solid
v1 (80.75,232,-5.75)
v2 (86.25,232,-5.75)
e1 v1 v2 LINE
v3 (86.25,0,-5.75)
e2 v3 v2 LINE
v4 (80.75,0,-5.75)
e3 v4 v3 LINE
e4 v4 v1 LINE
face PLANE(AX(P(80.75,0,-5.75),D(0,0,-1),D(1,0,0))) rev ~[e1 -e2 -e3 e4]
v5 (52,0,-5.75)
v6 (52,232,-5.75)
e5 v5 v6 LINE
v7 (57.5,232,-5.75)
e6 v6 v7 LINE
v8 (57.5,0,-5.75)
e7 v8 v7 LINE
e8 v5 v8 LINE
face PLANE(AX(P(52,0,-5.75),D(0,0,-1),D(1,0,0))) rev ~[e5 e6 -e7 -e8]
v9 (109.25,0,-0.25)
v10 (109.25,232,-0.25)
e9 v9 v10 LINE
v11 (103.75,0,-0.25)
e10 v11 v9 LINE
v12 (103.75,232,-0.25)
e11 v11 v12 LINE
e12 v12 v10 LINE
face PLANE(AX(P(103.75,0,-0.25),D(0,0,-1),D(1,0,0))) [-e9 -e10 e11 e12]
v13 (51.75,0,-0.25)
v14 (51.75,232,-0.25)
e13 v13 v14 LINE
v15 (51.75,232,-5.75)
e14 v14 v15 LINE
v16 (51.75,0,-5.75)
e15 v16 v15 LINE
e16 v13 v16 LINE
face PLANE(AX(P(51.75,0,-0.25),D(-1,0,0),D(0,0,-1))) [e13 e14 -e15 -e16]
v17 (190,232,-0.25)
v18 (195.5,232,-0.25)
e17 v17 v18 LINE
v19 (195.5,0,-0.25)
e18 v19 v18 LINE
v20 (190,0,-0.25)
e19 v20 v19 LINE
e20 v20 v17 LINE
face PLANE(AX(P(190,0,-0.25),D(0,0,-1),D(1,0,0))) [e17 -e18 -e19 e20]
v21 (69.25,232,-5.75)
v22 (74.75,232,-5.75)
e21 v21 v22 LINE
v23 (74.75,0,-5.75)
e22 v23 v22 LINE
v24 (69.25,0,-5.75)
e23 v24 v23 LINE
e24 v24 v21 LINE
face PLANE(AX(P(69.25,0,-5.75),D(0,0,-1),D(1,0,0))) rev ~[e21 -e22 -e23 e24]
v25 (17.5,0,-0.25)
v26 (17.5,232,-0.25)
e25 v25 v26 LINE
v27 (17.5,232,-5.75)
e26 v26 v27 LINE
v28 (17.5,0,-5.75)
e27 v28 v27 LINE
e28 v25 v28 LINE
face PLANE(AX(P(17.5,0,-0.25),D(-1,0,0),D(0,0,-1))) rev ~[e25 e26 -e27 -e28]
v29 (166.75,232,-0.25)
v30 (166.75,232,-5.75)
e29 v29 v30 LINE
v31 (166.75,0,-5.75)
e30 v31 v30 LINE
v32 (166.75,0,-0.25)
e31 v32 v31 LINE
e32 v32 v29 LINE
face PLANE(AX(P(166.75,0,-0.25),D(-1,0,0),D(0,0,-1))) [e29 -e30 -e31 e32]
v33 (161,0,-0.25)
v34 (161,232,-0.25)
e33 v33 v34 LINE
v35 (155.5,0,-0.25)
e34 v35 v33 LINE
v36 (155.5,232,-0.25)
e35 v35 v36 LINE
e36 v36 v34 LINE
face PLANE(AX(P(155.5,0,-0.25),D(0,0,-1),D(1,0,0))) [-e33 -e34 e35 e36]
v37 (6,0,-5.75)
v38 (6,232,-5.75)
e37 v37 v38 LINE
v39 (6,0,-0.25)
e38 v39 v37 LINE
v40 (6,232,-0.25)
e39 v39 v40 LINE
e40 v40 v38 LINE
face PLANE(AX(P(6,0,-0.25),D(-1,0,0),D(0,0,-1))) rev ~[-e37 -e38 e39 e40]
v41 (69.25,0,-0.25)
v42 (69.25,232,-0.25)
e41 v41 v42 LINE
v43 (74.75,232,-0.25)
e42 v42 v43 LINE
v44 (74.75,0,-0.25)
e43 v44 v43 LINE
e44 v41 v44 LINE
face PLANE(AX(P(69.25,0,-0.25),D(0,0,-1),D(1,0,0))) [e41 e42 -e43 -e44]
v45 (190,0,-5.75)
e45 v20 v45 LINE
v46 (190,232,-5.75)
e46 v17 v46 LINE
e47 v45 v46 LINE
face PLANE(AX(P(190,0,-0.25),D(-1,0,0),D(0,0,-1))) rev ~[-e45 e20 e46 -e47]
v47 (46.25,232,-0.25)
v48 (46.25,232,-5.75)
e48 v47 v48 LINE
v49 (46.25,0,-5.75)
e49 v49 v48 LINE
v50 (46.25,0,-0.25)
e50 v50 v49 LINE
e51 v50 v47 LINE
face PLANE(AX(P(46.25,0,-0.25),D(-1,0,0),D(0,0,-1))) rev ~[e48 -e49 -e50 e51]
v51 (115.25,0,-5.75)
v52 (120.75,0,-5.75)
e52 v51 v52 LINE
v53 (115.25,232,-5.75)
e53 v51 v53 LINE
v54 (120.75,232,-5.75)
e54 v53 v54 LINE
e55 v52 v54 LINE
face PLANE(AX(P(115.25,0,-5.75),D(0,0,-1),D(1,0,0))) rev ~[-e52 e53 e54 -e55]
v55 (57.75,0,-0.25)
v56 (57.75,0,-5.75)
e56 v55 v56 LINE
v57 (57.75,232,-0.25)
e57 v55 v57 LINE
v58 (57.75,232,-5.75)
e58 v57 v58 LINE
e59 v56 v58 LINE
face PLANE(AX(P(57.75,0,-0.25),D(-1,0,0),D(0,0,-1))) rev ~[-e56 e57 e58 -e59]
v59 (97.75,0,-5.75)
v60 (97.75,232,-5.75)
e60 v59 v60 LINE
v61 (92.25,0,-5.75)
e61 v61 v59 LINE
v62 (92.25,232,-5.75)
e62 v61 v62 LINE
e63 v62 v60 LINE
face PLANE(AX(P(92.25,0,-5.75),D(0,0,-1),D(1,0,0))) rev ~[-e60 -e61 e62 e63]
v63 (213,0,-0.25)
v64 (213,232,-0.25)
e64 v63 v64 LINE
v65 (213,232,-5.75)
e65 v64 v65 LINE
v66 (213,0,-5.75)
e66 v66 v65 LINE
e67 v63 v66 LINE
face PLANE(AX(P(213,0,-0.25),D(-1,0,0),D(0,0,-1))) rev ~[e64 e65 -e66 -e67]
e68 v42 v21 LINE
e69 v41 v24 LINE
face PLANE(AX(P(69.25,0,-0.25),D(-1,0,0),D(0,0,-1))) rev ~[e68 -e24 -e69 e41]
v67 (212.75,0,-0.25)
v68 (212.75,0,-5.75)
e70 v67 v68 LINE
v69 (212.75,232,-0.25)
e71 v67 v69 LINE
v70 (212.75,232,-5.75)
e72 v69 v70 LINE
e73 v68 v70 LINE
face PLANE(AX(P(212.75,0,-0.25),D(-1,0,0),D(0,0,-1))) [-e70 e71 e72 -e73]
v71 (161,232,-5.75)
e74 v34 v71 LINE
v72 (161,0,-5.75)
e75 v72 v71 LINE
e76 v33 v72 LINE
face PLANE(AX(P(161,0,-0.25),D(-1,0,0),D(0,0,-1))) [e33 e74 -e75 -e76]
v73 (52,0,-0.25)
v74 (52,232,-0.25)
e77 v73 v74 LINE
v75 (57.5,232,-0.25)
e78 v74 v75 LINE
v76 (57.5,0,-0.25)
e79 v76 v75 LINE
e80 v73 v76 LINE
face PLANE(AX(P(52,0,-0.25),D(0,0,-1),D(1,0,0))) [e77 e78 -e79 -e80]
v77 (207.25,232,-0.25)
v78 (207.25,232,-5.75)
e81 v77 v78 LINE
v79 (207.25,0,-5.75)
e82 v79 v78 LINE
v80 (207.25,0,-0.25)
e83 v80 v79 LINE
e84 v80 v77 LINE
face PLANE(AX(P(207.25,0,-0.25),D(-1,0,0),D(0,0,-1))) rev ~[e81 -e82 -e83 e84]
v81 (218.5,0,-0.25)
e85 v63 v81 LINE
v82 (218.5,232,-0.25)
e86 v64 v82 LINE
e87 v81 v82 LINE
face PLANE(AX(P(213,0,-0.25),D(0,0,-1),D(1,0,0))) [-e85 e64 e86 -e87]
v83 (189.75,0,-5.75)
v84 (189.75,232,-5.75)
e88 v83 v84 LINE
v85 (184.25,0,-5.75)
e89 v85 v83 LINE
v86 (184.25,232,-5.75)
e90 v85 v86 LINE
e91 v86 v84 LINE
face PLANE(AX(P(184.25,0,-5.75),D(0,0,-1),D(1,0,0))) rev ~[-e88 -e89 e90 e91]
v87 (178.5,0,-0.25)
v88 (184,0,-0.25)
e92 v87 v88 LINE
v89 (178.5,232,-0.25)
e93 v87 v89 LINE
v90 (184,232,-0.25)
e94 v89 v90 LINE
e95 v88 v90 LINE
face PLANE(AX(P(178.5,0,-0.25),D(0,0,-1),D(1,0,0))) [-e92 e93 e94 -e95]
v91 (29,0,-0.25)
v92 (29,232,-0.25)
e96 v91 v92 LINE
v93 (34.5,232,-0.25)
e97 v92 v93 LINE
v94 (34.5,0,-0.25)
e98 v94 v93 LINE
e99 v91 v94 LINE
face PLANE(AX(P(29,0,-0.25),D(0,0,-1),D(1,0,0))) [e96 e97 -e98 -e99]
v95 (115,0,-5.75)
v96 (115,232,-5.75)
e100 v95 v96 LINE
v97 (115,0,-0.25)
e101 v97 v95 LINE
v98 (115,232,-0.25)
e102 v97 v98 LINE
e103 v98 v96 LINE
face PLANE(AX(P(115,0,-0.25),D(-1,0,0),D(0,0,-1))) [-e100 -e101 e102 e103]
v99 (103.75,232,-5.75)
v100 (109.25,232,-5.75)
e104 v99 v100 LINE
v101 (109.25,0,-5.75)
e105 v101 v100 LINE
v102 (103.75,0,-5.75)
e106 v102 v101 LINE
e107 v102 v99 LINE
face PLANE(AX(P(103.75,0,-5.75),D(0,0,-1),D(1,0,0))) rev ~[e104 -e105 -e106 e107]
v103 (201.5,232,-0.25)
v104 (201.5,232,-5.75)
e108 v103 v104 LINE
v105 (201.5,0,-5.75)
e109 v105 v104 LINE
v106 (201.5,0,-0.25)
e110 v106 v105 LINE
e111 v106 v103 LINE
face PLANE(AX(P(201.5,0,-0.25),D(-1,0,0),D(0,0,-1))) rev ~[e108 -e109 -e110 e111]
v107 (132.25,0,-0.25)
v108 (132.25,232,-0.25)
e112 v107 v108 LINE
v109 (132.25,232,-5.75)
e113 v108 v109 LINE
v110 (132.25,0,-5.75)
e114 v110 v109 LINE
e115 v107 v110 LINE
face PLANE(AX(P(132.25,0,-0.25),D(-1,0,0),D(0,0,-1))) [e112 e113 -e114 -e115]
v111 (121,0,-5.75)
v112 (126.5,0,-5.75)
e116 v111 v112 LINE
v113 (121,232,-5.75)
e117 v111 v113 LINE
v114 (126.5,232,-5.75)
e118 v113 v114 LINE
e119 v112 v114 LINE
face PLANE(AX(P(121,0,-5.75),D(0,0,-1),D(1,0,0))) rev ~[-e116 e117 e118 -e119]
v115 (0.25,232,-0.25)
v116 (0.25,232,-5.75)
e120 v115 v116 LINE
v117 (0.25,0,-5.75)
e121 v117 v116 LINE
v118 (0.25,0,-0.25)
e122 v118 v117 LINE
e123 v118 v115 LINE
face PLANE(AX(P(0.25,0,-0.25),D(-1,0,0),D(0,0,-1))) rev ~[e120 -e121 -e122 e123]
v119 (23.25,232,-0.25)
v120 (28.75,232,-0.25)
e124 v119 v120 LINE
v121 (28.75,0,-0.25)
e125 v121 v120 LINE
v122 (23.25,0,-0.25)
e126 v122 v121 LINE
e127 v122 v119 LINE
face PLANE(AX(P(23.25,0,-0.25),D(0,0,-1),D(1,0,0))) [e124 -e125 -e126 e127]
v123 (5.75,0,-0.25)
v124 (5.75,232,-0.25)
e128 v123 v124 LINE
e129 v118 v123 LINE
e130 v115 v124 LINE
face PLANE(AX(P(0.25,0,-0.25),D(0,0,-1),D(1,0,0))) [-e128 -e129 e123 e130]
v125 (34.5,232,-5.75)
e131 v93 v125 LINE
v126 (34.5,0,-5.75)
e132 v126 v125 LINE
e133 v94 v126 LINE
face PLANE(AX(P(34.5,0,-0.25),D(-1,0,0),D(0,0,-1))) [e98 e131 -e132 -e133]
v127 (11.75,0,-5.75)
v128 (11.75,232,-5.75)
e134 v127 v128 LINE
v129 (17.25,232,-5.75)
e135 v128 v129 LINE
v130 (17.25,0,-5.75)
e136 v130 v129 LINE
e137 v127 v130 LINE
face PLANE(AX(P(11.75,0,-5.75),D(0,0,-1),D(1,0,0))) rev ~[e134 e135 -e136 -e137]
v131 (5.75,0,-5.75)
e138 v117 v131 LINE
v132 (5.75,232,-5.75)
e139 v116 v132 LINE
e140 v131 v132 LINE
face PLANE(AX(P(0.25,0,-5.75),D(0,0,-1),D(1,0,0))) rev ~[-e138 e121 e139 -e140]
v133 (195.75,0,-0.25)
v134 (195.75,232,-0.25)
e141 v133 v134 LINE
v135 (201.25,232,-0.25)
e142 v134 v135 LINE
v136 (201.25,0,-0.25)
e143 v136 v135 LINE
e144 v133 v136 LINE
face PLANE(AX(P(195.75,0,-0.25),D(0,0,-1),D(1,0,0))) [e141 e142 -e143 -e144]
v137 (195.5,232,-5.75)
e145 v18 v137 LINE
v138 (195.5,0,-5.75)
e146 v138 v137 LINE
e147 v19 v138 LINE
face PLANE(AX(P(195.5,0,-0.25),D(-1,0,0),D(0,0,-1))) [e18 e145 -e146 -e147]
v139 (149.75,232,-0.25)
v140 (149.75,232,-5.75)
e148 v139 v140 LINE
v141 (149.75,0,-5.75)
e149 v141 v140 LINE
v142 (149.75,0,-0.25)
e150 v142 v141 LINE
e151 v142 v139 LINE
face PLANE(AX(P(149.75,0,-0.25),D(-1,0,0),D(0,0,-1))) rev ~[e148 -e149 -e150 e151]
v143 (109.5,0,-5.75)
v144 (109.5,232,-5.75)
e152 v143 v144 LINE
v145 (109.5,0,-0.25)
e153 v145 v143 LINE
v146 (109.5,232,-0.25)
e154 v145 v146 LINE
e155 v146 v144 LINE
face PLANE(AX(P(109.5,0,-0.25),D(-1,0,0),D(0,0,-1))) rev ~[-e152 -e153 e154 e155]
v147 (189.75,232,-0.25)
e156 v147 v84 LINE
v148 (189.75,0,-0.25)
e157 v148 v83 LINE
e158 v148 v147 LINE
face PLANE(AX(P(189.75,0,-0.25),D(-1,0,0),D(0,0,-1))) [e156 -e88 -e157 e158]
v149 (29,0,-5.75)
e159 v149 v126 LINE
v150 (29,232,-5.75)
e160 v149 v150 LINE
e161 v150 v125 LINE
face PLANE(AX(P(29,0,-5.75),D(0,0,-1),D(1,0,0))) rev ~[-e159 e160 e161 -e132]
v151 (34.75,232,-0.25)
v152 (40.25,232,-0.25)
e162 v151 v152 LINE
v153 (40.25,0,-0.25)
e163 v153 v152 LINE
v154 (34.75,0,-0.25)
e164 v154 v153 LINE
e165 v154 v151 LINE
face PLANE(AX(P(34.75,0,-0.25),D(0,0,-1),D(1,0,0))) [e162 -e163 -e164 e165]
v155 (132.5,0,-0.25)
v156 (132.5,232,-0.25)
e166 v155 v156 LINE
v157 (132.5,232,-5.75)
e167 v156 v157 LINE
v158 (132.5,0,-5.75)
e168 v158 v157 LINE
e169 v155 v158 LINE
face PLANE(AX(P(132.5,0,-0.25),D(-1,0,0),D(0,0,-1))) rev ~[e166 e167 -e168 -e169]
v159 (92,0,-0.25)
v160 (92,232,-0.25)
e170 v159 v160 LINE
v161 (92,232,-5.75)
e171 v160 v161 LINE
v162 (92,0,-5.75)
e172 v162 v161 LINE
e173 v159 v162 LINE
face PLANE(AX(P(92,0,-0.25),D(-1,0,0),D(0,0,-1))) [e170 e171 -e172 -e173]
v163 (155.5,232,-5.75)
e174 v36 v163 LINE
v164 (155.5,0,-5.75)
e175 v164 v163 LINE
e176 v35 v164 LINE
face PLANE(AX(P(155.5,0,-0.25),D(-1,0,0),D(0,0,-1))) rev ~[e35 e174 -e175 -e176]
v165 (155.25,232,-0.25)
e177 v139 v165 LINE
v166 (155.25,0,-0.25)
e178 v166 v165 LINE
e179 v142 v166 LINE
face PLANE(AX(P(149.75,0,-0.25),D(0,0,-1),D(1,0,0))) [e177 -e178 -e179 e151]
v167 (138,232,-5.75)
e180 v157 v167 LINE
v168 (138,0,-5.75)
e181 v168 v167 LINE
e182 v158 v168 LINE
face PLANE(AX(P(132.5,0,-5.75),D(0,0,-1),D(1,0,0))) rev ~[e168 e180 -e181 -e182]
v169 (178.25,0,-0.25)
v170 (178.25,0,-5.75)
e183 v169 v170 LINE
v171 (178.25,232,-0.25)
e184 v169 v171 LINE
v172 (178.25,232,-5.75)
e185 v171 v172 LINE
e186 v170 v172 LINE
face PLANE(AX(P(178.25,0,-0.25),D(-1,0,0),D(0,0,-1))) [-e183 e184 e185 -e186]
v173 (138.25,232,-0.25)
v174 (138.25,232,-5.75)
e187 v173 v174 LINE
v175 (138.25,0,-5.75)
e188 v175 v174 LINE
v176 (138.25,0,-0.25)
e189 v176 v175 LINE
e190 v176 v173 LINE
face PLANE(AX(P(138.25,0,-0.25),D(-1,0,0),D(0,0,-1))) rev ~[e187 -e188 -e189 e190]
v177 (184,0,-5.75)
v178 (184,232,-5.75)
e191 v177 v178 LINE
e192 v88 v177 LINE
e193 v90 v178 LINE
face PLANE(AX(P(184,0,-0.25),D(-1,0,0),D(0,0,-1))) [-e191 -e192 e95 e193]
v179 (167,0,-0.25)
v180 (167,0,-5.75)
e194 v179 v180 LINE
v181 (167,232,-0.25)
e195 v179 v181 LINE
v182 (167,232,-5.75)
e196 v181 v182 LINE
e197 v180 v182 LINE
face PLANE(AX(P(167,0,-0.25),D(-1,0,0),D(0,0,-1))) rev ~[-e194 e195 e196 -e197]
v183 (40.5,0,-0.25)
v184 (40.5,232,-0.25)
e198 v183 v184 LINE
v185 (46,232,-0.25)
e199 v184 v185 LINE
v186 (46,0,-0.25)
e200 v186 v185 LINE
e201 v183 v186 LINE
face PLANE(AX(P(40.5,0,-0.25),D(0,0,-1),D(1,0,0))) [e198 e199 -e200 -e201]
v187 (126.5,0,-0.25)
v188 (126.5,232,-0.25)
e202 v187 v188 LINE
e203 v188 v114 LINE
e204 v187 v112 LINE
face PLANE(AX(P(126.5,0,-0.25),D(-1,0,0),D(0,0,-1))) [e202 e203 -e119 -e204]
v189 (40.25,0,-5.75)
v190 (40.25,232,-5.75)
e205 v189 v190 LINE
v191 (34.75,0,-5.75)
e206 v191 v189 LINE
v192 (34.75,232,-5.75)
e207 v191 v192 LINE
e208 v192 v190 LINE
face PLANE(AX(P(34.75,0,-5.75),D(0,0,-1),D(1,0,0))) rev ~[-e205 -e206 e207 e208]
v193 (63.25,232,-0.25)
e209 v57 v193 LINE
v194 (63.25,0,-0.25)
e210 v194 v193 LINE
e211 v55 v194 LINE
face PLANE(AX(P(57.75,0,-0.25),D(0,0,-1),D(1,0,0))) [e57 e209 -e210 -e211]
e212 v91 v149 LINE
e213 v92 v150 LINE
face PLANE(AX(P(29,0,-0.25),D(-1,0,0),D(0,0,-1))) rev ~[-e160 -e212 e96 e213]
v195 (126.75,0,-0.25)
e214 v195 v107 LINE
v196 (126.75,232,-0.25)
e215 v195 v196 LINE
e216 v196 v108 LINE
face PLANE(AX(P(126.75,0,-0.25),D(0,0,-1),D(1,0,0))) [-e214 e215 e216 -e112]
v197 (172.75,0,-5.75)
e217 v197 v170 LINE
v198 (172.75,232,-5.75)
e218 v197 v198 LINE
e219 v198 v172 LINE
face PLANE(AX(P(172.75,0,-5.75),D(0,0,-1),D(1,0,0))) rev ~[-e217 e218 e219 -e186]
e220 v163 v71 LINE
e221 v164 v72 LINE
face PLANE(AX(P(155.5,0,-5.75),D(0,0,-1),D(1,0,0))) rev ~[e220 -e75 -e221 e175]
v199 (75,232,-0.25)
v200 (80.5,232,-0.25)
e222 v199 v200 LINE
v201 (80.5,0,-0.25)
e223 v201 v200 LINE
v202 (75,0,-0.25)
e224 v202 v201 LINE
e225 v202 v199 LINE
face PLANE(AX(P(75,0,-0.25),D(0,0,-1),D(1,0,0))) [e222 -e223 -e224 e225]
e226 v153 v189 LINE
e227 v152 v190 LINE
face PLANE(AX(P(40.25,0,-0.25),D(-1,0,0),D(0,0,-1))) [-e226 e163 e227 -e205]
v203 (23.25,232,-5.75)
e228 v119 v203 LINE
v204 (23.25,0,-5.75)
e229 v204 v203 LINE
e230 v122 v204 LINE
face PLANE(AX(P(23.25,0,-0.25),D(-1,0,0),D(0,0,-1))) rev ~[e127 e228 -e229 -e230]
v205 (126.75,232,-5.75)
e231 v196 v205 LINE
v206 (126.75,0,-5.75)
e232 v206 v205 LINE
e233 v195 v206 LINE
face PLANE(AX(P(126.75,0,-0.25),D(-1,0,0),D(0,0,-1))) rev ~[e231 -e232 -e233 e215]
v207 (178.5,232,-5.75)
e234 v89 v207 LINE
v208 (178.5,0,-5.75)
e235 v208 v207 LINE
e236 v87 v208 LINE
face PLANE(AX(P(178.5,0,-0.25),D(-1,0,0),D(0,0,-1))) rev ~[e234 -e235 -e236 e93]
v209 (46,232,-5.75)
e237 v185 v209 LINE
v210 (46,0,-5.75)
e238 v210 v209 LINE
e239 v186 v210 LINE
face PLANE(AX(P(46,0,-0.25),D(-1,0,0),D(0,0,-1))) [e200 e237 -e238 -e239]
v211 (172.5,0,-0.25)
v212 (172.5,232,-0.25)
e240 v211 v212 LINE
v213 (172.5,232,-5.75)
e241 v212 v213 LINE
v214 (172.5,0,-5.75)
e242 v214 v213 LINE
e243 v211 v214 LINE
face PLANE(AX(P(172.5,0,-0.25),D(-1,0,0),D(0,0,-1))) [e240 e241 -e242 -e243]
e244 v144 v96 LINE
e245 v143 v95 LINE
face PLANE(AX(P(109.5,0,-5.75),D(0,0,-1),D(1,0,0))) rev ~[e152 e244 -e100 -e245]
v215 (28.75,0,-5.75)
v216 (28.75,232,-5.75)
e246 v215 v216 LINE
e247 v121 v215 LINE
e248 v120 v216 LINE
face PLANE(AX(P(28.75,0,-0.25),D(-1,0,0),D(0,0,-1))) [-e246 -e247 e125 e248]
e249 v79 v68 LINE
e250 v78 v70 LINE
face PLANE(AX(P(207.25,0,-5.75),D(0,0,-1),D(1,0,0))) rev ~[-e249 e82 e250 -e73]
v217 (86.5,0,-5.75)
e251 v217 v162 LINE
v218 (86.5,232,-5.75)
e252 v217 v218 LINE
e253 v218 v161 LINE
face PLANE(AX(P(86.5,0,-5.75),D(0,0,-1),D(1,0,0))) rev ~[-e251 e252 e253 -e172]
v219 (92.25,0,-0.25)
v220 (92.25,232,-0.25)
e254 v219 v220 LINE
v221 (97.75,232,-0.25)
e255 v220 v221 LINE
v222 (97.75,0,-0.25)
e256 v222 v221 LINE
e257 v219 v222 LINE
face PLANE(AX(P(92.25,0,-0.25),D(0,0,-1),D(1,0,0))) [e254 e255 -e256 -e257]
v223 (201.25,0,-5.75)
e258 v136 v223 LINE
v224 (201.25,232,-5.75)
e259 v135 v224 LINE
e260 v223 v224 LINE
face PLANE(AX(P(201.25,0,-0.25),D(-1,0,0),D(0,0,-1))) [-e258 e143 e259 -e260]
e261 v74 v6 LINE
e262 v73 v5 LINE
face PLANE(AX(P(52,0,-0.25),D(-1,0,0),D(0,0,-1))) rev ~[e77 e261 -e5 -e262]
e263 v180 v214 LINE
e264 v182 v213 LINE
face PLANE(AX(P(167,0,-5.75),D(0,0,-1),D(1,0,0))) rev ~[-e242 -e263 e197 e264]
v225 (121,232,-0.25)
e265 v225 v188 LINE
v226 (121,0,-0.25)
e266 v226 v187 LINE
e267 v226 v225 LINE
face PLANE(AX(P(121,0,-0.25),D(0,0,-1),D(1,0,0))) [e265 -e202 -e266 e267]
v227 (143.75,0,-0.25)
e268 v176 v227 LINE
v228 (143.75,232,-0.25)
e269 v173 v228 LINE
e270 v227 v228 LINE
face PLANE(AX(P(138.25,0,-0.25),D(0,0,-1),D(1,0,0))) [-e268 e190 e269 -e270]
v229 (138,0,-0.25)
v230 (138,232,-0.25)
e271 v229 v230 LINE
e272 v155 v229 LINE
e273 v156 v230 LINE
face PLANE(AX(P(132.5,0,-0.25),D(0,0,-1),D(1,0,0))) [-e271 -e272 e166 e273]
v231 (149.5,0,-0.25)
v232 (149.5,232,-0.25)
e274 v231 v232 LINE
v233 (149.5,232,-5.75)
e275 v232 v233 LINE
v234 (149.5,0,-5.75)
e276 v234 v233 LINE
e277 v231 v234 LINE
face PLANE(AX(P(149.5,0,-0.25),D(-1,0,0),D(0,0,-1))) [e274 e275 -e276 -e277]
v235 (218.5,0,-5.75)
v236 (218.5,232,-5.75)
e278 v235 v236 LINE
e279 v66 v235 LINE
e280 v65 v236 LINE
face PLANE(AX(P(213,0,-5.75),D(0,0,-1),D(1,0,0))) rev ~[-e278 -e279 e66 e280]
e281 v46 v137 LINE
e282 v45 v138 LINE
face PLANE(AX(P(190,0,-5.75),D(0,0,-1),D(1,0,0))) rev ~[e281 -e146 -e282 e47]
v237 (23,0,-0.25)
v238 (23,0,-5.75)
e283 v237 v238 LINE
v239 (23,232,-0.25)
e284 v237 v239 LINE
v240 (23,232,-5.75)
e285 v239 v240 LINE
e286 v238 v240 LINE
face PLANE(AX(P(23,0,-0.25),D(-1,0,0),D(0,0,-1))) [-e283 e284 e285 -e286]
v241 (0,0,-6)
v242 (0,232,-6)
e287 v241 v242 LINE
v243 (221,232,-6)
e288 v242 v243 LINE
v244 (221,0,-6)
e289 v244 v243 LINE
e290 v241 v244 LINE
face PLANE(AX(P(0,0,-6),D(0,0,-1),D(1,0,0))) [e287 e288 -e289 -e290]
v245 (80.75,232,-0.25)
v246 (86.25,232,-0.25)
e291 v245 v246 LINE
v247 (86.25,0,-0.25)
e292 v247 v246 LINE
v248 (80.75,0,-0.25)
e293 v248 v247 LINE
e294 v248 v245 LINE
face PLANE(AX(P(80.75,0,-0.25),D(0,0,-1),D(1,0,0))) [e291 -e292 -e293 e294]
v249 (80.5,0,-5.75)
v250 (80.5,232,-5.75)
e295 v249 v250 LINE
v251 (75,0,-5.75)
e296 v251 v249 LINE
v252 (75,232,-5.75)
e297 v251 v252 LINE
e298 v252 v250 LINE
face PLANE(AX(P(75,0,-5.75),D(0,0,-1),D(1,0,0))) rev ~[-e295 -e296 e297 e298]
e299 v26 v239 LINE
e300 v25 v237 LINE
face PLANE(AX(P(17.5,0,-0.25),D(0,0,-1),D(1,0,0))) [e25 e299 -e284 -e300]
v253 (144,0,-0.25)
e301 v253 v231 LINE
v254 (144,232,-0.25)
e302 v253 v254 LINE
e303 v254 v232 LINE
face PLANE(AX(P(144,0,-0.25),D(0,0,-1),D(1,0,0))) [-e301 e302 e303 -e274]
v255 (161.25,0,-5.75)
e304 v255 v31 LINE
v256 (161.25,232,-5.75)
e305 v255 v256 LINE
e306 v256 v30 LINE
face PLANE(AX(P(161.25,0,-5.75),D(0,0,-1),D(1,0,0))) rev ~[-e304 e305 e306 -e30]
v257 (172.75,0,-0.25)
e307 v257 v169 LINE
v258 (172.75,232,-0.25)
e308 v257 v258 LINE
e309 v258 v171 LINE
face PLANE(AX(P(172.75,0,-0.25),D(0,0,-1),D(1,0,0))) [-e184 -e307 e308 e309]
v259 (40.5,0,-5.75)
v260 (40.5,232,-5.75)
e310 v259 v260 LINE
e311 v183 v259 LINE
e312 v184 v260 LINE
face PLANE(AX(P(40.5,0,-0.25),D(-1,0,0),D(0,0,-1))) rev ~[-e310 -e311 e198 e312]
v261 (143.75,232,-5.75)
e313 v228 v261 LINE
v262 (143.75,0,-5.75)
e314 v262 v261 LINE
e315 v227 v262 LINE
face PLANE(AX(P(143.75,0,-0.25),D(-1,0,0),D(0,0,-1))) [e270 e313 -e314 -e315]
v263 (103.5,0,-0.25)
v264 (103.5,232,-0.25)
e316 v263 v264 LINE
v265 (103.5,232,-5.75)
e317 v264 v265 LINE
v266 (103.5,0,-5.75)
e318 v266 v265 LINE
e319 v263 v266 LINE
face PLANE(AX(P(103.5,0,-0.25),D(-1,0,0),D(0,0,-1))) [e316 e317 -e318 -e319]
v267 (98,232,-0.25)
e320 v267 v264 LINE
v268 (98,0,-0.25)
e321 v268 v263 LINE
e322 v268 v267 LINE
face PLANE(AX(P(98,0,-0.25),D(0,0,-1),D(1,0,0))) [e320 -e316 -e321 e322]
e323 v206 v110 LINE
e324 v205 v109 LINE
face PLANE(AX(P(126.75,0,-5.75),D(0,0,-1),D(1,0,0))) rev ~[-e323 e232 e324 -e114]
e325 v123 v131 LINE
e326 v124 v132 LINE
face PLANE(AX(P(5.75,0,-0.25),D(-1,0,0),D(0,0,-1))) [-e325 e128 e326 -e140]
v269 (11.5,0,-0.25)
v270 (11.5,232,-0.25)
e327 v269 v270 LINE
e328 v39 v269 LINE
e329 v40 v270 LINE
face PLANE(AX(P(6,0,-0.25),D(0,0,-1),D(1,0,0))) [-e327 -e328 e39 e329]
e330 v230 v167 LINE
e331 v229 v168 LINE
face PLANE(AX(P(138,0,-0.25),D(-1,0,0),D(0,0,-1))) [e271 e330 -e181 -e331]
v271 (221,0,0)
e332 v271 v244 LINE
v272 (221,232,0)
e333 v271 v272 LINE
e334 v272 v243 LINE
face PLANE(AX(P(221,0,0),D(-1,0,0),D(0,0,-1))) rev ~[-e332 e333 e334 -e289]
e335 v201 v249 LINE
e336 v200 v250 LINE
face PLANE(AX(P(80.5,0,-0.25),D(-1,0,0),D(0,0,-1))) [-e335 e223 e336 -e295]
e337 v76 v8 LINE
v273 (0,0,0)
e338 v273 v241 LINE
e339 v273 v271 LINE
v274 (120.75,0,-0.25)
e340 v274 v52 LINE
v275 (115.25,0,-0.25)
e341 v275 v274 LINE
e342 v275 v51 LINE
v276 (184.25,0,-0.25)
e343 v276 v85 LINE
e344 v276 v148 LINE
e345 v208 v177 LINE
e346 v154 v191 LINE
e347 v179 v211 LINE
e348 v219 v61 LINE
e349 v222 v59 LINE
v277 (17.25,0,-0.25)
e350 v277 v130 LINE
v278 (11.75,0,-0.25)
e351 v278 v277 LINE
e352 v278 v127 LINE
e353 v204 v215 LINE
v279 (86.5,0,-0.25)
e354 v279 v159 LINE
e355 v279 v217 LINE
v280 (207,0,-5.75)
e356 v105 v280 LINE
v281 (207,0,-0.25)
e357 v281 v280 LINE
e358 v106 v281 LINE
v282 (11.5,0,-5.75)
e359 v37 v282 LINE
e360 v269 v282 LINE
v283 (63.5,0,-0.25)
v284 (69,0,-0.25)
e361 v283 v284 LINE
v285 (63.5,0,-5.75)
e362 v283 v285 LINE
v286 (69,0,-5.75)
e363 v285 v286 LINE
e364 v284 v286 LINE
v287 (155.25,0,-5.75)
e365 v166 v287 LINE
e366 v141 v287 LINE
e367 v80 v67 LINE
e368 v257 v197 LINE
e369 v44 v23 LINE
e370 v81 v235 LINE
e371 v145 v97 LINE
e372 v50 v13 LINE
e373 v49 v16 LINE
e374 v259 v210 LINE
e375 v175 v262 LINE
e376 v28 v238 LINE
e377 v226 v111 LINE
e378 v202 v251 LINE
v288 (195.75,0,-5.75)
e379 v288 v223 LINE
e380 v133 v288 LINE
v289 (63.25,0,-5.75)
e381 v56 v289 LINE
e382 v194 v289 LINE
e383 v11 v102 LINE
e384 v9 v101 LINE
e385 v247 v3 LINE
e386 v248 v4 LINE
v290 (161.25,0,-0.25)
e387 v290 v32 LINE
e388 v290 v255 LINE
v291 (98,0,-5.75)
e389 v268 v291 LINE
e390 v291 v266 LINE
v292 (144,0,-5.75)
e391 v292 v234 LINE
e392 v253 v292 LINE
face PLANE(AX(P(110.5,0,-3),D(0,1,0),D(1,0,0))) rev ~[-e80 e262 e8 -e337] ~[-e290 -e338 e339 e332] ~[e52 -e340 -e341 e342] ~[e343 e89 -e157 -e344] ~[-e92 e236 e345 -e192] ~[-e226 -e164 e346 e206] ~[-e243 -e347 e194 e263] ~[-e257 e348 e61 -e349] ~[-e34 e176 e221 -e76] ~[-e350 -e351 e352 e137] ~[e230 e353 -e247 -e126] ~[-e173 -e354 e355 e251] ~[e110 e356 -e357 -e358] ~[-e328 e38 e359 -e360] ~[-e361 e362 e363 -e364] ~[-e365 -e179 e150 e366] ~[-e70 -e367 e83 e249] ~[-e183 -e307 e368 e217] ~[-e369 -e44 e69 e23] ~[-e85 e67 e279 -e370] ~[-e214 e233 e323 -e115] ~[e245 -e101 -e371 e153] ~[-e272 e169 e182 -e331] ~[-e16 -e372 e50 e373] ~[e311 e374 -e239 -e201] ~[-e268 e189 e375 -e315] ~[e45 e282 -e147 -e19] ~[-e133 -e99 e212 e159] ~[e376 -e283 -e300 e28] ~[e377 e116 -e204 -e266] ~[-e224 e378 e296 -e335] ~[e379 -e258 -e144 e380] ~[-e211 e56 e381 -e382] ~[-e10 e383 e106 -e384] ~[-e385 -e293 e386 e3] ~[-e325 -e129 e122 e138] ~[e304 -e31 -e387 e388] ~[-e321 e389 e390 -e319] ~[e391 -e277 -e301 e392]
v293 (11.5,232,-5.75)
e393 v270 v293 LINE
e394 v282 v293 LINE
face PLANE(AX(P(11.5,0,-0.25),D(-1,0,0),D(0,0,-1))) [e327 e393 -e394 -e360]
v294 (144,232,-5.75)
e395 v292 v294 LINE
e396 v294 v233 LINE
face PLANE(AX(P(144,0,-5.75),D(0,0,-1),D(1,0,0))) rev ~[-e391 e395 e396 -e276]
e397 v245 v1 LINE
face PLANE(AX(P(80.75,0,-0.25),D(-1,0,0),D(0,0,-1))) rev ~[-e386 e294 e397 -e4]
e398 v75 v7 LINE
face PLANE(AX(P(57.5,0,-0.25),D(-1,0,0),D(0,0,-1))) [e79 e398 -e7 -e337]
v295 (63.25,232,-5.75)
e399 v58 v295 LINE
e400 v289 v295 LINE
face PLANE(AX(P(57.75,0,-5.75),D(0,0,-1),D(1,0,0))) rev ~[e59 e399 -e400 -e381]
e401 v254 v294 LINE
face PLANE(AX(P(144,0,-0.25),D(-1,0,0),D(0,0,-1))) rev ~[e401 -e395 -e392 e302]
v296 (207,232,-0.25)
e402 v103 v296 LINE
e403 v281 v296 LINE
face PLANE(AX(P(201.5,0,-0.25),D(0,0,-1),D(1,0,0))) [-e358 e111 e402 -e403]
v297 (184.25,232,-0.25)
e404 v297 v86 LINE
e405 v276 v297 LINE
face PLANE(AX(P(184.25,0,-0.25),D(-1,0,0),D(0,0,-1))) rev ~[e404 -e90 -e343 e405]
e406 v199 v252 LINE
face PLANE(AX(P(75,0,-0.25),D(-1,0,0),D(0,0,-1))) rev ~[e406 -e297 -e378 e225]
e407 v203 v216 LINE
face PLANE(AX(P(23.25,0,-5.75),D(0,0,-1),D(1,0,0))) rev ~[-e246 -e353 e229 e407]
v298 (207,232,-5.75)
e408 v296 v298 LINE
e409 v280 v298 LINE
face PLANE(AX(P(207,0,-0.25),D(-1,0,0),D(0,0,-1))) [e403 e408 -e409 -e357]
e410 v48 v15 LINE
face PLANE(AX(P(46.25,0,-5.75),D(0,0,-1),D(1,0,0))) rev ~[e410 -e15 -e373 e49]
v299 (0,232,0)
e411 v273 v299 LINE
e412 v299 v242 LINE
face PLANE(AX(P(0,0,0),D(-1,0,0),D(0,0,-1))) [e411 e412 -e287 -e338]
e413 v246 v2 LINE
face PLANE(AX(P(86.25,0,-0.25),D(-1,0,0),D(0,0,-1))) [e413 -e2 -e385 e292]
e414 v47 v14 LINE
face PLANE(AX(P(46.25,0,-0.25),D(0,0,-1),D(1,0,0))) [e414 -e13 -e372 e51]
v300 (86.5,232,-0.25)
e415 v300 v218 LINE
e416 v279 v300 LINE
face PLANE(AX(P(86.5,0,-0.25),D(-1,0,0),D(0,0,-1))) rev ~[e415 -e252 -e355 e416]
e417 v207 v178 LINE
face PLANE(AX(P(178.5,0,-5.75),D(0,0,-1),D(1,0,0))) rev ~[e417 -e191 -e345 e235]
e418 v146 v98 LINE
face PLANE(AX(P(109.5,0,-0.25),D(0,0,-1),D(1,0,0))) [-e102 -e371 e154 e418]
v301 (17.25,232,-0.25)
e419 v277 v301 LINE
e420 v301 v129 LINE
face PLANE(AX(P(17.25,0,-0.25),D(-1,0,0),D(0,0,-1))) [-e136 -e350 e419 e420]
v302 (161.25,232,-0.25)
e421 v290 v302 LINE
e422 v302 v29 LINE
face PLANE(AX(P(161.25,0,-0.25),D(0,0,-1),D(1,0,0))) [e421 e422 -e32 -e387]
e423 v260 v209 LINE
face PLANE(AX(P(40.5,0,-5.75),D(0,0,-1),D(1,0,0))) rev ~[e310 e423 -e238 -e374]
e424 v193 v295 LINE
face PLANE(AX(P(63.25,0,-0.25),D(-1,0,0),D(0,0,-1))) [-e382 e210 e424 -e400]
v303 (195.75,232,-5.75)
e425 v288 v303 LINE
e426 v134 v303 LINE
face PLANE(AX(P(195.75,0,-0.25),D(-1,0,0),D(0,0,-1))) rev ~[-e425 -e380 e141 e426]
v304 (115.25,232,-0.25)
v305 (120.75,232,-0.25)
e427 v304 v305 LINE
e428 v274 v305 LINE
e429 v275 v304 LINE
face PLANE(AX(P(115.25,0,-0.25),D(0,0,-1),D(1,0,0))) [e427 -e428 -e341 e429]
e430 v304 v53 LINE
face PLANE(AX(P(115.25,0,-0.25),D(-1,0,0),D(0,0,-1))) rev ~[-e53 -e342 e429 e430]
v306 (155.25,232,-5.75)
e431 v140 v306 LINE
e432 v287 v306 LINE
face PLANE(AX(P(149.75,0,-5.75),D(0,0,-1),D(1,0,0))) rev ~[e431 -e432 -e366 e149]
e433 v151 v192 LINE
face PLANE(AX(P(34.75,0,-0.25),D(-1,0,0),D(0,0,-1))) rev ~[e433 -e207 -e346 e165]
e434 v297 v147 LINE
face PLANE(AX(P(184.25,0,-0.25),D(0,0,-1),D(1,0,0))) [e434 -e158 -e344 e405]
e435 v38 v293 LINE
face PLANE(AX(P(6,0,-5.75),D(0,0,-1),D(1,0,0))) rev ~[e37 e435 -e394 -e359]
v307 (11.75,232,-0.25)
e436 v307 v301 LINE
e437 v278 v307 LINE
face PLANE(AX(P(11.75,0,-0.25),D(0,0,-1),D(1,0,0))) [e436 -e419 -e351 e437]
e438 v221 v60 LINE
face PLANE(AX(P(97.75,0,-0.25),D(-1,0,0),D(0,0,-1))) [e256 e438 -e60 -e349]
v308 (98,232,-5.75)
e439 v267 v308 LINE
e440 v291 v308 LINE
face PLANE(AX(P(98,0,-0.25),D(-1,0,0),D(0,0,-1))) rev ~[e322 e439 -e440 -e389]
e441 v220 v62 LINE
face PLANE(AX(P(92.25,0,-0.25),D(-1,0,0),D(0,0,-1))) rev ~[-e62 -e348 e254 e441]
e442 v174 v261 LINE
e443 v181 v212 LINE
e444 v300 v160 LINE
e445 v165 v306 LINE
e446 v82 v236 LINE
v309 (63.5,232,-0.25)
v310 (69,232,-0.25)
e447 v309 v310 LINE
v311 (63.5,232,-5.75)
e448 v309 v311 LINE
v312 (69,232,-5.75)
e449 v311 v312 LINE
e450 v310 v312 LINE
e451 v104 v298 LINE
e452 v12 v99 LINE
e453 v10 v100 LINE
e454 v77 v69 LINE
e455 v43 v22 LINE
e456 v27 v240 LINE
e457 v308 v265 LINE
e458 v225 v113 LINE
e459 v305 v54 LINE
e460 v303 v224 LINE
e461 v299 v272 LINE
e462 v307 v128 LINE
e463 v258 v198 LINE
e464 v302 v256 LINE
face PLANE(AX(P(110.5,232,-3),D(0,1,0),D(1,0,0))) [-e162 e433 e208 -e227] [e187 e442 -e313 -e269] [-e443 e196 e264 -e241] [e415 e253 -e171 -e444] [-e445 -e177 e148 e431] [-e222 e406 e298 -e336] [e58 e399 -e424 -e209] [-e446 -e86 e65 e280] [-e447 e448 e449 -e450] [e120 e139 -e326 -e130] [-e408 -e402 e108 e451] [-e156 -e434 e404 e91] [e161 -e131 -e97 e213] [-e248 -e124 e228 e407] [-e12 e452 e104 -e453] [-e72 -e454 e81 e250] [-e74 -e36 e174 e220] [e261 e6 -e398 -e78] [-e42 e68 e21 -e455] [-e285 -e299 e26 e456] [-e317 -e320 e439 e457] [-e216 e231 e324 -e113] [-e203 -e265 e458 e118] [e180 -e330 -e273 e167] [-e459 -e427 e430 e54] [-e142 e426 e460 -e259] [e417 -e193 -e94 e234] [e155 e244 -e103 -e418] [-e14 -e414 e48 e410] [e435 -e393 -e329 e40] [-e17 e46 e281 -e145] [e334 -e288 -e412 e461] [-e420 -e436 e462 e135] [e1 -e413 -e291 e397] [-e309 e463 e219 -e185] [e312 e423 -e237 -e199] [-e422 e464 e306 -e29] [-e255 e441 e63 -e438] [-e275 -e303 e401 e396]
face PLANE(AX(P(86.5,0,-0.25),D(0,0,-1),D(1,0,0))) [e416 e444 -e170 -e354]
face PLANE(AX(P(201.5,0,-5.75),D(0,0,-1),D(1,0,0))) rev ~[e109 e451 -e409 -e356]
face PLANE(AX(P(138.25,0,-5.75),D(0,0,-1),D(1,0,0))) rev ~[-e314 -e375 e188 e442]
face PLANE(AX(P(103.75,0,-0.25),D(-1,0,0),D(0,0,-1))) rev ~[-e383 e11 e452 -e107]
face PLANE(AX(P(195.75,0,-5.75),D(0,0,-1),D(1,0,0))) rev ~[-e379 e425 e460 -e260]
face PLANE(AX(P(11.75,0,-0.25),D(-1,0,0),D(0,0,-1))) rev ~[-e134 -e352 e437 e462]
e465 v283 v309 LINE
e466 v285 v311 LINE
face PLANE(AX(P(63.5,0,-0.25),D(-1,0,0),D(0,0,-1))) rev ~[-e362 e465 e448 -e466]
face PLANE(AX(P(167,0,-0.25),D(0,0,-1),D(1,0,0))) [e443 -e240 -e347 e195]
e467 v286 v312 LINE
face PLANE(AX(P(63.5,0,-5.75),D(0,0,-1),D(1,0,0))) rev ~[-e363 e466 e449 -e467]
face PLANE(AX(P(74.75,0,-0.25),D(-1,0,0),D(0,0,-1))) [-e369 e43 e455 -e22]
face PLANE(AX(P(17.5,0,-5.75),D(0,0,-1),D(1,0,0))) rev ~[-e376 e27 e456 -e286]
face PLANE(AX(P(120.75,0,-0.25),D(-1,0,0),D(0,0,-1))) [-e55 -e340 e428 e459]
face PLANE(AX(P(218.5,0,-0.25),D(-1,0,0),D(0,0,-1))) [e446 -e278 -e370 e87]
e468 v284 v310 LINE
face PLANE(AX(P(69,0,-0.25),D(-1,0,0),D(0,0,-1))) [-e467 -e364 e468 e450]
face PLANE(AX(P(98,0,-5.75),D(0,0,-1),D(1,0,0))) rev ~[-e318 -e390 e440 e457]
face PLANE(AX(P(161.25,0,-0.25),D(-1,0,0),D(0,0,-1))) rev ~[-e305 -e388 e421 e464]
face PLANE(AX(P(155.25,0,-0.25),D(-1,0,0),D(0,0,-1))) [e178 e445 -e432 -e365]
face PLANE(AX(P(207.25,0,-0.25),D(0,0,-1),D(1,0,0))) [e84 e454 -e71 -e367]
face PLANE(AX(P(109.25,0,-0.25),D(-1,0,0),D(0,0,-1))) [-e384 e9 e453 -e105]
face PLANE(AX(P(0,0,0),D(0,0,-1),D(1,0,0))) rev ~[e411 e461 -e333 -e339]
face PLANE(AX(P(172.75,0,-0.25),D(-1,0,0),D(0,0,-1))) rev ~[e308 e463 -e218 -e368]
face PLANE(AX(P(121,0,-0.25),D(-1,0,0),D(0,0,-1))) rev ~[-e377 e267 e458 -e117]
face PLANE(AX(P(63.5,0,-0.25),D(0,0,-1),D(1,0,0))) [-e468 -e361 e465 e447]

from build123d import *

# Parameters (mm, degrees)
SKETCH1_W           = 221
SKETCH1_H           = 6
SKETCH1_W_2         = 5.5
SKETCH1_H_2         = 5.5
BOSS_EXTRUDE1_DEPTH = 232


with BuildPart() as part:
    # Sketch1 → Boss-Extrude1 (new body)
    with BuildSketch(Plane(origin=(0, 0, 0), x_dir=(1, 0, 0), z_dir=(0, 1, 0))):
        with Locations((110.5, 3)):
            Rectangle(SKETCH1_W, SKETCH1_H)
        with Locations((8.75, 3)):
            Rectangle(SKETCH1_W_2, SKETCH1_H_2, mode=Mode.SUBTRACT)
        with Locations((3, 3)):
            Rectangle(SKETCH1_W_2, SKETCH1_H_2, mode=Mode.SUBTRACT)
        with Locations((14.5, 3)):
            Rectangle(SKETCH1_W_2, SKETCH1_H_2, mode=Mode.SUBTRACT)
        with Locations((20.25, 3)):
            Rectangle(SKETCH1_W_2, SKETCH1_H_2, mode=Mode.SUBTRACT)
        with Locations((26, 3)):
            Rectangle(SKETCH1_W_2, SKETCH1_H_2, mode=Mode.SUBTRACT)
        with Locations((31.75, 3)):
            Rectangle(SKETCH1_W_2, SKETCH1_H_2, mode=Mode.SUBTRACT)
        with Locations((37.5, 3)):
            Rectangle(SKETCH1_W_2, SKETCH1_H_2, mode=Mode.SUBTRACT)
        with Locations((43.25, 3)):
            Rectangle(SKETCH1_W_2, SKETCH1_H_2, mode=Mode.SUBTRACT)
        with Locations((49, 3)):
            Rectangle(SKETCH1_W_2, SKETCH1_H_2, mode=Mode.SUBTRACT)
        with Locations((54.75, 3)):
            Rectangle(SKETCH1_W_2, SKETCH1_H_2, mode=Mode.SUBTRACT)
        with Locations((60.5, 3)):
            Rectangle(SKETCH1_W_2, SKETCH1_H_2, mode=Mode.SUBTRACT)
        with Locations((66.25, 3)):
            Rectangle(SKETCH1_W_2, SKETCH1_H_2, mode=Mode.SUBTRACT)
        with Locations((72, 3)):
            Rectangle(SKETCH1_W_2, SKETCH1_H_2, mode=Mode.SUBTRACT)
        with Locations((77.75, 3)):
            Rectangle(SKETCH1_W_2, SKETCH1_H_2, mode=Mode.SUBTRACT)
        with Locations((83.5, 3)):
            Rectangle(SKETCH1_W_2, SKETCH1_H_2, mode=Mode.SUBTRACT)
        with Locations((89.25, 3)):
            Rectangle(SKETCH1_W_2, SKETCH1_H_2, mode=Mode.SUBTRACT)
        with Locations((95, 3)):
            Rectangle(SKETCH1_W_2, SKETCH1_H_2, mode=Mode.SUBTRACT)
        with Locations((100.75, 3)):
            Rectangle(SKETCH1_W_2, SKETCH1_H_2, mode=Mode.SUBTRACT)
        with Locations((106.5, 3)):
            Rectangle(SKETCH1_W_2, SKETCH1_H_2, mode=Mode.SUBTRACT)
        with Locations((112.25, 3)):
            Rectangle(SKETCH1_W_2, SKETCH1_H_2, mode=Mode.SUBTRACT)
        with Locations((118, 3)):
            Rectangle(SKETCH1_W_2, SKETCH1_H_2, mode=Mode.SUBTRACT)
        with Locations((123.75, 3)):
            Rectangle(SKETCH1_W_2, SKETCH1_H_2, mode=Mode.SUBTRACT)
        with Locations((129.5, 3)):
            Rectangle(SKETCH1_W_2, SKETCH1_H_2, mode=Mode.SUBTRACT)
        with Locations((135.25, 3)):
            Rectangle(SKETCH1_W_2, SKETCH1_H_2, mode=Mode.SUBTRACT)
        with Locations((141, 3)):
            Rectangle(SKETCH1_W_2, SKETCH1_H_2, mode=Mode.SUBTRACT)
        with Locations((146.75, 3)):
            Rectangle(SKETCH1_W_2, SKETCH1_H_2, mode=Mode.SUBTRACT)
        with Locations((152.5, 3)):
            Rectangle(SKETCH1_W_2, SKETCH1_H_2, mode=Mode.SUBTRACT)
        with Locations((158.25, 3)):
            Rectangle(SKETCH1_W_2, SKETCH1_H_2, mode=Mode.SUBTRACT)
        with Locations((164, 3)):
            Rectangle(SKETCH1_W_2, SKETCH1_H_2, mode=Mode.SUBTRACT)
        with Locations((169.75, 3)):
            Rectangle(SKETCH1_W_2, SKETCH1_H_2, mode=Mode.SUBTRACT)
        with Locations((175.5, 3)):
            Rectangle(SKETCH1_W_2, SKETCH1_H_2, mode=Mode.SUBTRACT)
        with Locations((181.25, 3)):
            Rectangle(SKETCH1_W_2, SKETCH1_H_2, mode=Mode.SUBTRACT)
        with Locations((187, 3)):
            Rectangle(SKETCH1_W_2, SKETCH1_H_2, mode=Mode.SUBTRACT)
        with Locations((192.75, 3)):
            Rectangle(SKETCH1_W_2, SKETCH1_H_2, mode=Mode.SUBTRACT)
        with Locations((198.5, 3)):
            Rectangle(SKETCH1_W_2, SKETCH1_H_2, mode=Mode.SUBTRACT)
        with Locations((204.25, 3)):
            Rectangle(SKETCH1_W_2, SKETCH1_H_2, mode=Mode.SUBTRACT)
        with Locations((210, 3)):
            Rectangle(SKETCH1_W_2, SKETCH1_H_2, mode=Mode.SUBTRACT)
        with Locations((215.75, 3)):
            Rectangle(SKETCH1_W_2, SKETCH1_H_2, mode=Mode.SUBTRACT)
    extrude(amount=BOSS_EXTRUDE1_DEPTH)


solid = part.part
